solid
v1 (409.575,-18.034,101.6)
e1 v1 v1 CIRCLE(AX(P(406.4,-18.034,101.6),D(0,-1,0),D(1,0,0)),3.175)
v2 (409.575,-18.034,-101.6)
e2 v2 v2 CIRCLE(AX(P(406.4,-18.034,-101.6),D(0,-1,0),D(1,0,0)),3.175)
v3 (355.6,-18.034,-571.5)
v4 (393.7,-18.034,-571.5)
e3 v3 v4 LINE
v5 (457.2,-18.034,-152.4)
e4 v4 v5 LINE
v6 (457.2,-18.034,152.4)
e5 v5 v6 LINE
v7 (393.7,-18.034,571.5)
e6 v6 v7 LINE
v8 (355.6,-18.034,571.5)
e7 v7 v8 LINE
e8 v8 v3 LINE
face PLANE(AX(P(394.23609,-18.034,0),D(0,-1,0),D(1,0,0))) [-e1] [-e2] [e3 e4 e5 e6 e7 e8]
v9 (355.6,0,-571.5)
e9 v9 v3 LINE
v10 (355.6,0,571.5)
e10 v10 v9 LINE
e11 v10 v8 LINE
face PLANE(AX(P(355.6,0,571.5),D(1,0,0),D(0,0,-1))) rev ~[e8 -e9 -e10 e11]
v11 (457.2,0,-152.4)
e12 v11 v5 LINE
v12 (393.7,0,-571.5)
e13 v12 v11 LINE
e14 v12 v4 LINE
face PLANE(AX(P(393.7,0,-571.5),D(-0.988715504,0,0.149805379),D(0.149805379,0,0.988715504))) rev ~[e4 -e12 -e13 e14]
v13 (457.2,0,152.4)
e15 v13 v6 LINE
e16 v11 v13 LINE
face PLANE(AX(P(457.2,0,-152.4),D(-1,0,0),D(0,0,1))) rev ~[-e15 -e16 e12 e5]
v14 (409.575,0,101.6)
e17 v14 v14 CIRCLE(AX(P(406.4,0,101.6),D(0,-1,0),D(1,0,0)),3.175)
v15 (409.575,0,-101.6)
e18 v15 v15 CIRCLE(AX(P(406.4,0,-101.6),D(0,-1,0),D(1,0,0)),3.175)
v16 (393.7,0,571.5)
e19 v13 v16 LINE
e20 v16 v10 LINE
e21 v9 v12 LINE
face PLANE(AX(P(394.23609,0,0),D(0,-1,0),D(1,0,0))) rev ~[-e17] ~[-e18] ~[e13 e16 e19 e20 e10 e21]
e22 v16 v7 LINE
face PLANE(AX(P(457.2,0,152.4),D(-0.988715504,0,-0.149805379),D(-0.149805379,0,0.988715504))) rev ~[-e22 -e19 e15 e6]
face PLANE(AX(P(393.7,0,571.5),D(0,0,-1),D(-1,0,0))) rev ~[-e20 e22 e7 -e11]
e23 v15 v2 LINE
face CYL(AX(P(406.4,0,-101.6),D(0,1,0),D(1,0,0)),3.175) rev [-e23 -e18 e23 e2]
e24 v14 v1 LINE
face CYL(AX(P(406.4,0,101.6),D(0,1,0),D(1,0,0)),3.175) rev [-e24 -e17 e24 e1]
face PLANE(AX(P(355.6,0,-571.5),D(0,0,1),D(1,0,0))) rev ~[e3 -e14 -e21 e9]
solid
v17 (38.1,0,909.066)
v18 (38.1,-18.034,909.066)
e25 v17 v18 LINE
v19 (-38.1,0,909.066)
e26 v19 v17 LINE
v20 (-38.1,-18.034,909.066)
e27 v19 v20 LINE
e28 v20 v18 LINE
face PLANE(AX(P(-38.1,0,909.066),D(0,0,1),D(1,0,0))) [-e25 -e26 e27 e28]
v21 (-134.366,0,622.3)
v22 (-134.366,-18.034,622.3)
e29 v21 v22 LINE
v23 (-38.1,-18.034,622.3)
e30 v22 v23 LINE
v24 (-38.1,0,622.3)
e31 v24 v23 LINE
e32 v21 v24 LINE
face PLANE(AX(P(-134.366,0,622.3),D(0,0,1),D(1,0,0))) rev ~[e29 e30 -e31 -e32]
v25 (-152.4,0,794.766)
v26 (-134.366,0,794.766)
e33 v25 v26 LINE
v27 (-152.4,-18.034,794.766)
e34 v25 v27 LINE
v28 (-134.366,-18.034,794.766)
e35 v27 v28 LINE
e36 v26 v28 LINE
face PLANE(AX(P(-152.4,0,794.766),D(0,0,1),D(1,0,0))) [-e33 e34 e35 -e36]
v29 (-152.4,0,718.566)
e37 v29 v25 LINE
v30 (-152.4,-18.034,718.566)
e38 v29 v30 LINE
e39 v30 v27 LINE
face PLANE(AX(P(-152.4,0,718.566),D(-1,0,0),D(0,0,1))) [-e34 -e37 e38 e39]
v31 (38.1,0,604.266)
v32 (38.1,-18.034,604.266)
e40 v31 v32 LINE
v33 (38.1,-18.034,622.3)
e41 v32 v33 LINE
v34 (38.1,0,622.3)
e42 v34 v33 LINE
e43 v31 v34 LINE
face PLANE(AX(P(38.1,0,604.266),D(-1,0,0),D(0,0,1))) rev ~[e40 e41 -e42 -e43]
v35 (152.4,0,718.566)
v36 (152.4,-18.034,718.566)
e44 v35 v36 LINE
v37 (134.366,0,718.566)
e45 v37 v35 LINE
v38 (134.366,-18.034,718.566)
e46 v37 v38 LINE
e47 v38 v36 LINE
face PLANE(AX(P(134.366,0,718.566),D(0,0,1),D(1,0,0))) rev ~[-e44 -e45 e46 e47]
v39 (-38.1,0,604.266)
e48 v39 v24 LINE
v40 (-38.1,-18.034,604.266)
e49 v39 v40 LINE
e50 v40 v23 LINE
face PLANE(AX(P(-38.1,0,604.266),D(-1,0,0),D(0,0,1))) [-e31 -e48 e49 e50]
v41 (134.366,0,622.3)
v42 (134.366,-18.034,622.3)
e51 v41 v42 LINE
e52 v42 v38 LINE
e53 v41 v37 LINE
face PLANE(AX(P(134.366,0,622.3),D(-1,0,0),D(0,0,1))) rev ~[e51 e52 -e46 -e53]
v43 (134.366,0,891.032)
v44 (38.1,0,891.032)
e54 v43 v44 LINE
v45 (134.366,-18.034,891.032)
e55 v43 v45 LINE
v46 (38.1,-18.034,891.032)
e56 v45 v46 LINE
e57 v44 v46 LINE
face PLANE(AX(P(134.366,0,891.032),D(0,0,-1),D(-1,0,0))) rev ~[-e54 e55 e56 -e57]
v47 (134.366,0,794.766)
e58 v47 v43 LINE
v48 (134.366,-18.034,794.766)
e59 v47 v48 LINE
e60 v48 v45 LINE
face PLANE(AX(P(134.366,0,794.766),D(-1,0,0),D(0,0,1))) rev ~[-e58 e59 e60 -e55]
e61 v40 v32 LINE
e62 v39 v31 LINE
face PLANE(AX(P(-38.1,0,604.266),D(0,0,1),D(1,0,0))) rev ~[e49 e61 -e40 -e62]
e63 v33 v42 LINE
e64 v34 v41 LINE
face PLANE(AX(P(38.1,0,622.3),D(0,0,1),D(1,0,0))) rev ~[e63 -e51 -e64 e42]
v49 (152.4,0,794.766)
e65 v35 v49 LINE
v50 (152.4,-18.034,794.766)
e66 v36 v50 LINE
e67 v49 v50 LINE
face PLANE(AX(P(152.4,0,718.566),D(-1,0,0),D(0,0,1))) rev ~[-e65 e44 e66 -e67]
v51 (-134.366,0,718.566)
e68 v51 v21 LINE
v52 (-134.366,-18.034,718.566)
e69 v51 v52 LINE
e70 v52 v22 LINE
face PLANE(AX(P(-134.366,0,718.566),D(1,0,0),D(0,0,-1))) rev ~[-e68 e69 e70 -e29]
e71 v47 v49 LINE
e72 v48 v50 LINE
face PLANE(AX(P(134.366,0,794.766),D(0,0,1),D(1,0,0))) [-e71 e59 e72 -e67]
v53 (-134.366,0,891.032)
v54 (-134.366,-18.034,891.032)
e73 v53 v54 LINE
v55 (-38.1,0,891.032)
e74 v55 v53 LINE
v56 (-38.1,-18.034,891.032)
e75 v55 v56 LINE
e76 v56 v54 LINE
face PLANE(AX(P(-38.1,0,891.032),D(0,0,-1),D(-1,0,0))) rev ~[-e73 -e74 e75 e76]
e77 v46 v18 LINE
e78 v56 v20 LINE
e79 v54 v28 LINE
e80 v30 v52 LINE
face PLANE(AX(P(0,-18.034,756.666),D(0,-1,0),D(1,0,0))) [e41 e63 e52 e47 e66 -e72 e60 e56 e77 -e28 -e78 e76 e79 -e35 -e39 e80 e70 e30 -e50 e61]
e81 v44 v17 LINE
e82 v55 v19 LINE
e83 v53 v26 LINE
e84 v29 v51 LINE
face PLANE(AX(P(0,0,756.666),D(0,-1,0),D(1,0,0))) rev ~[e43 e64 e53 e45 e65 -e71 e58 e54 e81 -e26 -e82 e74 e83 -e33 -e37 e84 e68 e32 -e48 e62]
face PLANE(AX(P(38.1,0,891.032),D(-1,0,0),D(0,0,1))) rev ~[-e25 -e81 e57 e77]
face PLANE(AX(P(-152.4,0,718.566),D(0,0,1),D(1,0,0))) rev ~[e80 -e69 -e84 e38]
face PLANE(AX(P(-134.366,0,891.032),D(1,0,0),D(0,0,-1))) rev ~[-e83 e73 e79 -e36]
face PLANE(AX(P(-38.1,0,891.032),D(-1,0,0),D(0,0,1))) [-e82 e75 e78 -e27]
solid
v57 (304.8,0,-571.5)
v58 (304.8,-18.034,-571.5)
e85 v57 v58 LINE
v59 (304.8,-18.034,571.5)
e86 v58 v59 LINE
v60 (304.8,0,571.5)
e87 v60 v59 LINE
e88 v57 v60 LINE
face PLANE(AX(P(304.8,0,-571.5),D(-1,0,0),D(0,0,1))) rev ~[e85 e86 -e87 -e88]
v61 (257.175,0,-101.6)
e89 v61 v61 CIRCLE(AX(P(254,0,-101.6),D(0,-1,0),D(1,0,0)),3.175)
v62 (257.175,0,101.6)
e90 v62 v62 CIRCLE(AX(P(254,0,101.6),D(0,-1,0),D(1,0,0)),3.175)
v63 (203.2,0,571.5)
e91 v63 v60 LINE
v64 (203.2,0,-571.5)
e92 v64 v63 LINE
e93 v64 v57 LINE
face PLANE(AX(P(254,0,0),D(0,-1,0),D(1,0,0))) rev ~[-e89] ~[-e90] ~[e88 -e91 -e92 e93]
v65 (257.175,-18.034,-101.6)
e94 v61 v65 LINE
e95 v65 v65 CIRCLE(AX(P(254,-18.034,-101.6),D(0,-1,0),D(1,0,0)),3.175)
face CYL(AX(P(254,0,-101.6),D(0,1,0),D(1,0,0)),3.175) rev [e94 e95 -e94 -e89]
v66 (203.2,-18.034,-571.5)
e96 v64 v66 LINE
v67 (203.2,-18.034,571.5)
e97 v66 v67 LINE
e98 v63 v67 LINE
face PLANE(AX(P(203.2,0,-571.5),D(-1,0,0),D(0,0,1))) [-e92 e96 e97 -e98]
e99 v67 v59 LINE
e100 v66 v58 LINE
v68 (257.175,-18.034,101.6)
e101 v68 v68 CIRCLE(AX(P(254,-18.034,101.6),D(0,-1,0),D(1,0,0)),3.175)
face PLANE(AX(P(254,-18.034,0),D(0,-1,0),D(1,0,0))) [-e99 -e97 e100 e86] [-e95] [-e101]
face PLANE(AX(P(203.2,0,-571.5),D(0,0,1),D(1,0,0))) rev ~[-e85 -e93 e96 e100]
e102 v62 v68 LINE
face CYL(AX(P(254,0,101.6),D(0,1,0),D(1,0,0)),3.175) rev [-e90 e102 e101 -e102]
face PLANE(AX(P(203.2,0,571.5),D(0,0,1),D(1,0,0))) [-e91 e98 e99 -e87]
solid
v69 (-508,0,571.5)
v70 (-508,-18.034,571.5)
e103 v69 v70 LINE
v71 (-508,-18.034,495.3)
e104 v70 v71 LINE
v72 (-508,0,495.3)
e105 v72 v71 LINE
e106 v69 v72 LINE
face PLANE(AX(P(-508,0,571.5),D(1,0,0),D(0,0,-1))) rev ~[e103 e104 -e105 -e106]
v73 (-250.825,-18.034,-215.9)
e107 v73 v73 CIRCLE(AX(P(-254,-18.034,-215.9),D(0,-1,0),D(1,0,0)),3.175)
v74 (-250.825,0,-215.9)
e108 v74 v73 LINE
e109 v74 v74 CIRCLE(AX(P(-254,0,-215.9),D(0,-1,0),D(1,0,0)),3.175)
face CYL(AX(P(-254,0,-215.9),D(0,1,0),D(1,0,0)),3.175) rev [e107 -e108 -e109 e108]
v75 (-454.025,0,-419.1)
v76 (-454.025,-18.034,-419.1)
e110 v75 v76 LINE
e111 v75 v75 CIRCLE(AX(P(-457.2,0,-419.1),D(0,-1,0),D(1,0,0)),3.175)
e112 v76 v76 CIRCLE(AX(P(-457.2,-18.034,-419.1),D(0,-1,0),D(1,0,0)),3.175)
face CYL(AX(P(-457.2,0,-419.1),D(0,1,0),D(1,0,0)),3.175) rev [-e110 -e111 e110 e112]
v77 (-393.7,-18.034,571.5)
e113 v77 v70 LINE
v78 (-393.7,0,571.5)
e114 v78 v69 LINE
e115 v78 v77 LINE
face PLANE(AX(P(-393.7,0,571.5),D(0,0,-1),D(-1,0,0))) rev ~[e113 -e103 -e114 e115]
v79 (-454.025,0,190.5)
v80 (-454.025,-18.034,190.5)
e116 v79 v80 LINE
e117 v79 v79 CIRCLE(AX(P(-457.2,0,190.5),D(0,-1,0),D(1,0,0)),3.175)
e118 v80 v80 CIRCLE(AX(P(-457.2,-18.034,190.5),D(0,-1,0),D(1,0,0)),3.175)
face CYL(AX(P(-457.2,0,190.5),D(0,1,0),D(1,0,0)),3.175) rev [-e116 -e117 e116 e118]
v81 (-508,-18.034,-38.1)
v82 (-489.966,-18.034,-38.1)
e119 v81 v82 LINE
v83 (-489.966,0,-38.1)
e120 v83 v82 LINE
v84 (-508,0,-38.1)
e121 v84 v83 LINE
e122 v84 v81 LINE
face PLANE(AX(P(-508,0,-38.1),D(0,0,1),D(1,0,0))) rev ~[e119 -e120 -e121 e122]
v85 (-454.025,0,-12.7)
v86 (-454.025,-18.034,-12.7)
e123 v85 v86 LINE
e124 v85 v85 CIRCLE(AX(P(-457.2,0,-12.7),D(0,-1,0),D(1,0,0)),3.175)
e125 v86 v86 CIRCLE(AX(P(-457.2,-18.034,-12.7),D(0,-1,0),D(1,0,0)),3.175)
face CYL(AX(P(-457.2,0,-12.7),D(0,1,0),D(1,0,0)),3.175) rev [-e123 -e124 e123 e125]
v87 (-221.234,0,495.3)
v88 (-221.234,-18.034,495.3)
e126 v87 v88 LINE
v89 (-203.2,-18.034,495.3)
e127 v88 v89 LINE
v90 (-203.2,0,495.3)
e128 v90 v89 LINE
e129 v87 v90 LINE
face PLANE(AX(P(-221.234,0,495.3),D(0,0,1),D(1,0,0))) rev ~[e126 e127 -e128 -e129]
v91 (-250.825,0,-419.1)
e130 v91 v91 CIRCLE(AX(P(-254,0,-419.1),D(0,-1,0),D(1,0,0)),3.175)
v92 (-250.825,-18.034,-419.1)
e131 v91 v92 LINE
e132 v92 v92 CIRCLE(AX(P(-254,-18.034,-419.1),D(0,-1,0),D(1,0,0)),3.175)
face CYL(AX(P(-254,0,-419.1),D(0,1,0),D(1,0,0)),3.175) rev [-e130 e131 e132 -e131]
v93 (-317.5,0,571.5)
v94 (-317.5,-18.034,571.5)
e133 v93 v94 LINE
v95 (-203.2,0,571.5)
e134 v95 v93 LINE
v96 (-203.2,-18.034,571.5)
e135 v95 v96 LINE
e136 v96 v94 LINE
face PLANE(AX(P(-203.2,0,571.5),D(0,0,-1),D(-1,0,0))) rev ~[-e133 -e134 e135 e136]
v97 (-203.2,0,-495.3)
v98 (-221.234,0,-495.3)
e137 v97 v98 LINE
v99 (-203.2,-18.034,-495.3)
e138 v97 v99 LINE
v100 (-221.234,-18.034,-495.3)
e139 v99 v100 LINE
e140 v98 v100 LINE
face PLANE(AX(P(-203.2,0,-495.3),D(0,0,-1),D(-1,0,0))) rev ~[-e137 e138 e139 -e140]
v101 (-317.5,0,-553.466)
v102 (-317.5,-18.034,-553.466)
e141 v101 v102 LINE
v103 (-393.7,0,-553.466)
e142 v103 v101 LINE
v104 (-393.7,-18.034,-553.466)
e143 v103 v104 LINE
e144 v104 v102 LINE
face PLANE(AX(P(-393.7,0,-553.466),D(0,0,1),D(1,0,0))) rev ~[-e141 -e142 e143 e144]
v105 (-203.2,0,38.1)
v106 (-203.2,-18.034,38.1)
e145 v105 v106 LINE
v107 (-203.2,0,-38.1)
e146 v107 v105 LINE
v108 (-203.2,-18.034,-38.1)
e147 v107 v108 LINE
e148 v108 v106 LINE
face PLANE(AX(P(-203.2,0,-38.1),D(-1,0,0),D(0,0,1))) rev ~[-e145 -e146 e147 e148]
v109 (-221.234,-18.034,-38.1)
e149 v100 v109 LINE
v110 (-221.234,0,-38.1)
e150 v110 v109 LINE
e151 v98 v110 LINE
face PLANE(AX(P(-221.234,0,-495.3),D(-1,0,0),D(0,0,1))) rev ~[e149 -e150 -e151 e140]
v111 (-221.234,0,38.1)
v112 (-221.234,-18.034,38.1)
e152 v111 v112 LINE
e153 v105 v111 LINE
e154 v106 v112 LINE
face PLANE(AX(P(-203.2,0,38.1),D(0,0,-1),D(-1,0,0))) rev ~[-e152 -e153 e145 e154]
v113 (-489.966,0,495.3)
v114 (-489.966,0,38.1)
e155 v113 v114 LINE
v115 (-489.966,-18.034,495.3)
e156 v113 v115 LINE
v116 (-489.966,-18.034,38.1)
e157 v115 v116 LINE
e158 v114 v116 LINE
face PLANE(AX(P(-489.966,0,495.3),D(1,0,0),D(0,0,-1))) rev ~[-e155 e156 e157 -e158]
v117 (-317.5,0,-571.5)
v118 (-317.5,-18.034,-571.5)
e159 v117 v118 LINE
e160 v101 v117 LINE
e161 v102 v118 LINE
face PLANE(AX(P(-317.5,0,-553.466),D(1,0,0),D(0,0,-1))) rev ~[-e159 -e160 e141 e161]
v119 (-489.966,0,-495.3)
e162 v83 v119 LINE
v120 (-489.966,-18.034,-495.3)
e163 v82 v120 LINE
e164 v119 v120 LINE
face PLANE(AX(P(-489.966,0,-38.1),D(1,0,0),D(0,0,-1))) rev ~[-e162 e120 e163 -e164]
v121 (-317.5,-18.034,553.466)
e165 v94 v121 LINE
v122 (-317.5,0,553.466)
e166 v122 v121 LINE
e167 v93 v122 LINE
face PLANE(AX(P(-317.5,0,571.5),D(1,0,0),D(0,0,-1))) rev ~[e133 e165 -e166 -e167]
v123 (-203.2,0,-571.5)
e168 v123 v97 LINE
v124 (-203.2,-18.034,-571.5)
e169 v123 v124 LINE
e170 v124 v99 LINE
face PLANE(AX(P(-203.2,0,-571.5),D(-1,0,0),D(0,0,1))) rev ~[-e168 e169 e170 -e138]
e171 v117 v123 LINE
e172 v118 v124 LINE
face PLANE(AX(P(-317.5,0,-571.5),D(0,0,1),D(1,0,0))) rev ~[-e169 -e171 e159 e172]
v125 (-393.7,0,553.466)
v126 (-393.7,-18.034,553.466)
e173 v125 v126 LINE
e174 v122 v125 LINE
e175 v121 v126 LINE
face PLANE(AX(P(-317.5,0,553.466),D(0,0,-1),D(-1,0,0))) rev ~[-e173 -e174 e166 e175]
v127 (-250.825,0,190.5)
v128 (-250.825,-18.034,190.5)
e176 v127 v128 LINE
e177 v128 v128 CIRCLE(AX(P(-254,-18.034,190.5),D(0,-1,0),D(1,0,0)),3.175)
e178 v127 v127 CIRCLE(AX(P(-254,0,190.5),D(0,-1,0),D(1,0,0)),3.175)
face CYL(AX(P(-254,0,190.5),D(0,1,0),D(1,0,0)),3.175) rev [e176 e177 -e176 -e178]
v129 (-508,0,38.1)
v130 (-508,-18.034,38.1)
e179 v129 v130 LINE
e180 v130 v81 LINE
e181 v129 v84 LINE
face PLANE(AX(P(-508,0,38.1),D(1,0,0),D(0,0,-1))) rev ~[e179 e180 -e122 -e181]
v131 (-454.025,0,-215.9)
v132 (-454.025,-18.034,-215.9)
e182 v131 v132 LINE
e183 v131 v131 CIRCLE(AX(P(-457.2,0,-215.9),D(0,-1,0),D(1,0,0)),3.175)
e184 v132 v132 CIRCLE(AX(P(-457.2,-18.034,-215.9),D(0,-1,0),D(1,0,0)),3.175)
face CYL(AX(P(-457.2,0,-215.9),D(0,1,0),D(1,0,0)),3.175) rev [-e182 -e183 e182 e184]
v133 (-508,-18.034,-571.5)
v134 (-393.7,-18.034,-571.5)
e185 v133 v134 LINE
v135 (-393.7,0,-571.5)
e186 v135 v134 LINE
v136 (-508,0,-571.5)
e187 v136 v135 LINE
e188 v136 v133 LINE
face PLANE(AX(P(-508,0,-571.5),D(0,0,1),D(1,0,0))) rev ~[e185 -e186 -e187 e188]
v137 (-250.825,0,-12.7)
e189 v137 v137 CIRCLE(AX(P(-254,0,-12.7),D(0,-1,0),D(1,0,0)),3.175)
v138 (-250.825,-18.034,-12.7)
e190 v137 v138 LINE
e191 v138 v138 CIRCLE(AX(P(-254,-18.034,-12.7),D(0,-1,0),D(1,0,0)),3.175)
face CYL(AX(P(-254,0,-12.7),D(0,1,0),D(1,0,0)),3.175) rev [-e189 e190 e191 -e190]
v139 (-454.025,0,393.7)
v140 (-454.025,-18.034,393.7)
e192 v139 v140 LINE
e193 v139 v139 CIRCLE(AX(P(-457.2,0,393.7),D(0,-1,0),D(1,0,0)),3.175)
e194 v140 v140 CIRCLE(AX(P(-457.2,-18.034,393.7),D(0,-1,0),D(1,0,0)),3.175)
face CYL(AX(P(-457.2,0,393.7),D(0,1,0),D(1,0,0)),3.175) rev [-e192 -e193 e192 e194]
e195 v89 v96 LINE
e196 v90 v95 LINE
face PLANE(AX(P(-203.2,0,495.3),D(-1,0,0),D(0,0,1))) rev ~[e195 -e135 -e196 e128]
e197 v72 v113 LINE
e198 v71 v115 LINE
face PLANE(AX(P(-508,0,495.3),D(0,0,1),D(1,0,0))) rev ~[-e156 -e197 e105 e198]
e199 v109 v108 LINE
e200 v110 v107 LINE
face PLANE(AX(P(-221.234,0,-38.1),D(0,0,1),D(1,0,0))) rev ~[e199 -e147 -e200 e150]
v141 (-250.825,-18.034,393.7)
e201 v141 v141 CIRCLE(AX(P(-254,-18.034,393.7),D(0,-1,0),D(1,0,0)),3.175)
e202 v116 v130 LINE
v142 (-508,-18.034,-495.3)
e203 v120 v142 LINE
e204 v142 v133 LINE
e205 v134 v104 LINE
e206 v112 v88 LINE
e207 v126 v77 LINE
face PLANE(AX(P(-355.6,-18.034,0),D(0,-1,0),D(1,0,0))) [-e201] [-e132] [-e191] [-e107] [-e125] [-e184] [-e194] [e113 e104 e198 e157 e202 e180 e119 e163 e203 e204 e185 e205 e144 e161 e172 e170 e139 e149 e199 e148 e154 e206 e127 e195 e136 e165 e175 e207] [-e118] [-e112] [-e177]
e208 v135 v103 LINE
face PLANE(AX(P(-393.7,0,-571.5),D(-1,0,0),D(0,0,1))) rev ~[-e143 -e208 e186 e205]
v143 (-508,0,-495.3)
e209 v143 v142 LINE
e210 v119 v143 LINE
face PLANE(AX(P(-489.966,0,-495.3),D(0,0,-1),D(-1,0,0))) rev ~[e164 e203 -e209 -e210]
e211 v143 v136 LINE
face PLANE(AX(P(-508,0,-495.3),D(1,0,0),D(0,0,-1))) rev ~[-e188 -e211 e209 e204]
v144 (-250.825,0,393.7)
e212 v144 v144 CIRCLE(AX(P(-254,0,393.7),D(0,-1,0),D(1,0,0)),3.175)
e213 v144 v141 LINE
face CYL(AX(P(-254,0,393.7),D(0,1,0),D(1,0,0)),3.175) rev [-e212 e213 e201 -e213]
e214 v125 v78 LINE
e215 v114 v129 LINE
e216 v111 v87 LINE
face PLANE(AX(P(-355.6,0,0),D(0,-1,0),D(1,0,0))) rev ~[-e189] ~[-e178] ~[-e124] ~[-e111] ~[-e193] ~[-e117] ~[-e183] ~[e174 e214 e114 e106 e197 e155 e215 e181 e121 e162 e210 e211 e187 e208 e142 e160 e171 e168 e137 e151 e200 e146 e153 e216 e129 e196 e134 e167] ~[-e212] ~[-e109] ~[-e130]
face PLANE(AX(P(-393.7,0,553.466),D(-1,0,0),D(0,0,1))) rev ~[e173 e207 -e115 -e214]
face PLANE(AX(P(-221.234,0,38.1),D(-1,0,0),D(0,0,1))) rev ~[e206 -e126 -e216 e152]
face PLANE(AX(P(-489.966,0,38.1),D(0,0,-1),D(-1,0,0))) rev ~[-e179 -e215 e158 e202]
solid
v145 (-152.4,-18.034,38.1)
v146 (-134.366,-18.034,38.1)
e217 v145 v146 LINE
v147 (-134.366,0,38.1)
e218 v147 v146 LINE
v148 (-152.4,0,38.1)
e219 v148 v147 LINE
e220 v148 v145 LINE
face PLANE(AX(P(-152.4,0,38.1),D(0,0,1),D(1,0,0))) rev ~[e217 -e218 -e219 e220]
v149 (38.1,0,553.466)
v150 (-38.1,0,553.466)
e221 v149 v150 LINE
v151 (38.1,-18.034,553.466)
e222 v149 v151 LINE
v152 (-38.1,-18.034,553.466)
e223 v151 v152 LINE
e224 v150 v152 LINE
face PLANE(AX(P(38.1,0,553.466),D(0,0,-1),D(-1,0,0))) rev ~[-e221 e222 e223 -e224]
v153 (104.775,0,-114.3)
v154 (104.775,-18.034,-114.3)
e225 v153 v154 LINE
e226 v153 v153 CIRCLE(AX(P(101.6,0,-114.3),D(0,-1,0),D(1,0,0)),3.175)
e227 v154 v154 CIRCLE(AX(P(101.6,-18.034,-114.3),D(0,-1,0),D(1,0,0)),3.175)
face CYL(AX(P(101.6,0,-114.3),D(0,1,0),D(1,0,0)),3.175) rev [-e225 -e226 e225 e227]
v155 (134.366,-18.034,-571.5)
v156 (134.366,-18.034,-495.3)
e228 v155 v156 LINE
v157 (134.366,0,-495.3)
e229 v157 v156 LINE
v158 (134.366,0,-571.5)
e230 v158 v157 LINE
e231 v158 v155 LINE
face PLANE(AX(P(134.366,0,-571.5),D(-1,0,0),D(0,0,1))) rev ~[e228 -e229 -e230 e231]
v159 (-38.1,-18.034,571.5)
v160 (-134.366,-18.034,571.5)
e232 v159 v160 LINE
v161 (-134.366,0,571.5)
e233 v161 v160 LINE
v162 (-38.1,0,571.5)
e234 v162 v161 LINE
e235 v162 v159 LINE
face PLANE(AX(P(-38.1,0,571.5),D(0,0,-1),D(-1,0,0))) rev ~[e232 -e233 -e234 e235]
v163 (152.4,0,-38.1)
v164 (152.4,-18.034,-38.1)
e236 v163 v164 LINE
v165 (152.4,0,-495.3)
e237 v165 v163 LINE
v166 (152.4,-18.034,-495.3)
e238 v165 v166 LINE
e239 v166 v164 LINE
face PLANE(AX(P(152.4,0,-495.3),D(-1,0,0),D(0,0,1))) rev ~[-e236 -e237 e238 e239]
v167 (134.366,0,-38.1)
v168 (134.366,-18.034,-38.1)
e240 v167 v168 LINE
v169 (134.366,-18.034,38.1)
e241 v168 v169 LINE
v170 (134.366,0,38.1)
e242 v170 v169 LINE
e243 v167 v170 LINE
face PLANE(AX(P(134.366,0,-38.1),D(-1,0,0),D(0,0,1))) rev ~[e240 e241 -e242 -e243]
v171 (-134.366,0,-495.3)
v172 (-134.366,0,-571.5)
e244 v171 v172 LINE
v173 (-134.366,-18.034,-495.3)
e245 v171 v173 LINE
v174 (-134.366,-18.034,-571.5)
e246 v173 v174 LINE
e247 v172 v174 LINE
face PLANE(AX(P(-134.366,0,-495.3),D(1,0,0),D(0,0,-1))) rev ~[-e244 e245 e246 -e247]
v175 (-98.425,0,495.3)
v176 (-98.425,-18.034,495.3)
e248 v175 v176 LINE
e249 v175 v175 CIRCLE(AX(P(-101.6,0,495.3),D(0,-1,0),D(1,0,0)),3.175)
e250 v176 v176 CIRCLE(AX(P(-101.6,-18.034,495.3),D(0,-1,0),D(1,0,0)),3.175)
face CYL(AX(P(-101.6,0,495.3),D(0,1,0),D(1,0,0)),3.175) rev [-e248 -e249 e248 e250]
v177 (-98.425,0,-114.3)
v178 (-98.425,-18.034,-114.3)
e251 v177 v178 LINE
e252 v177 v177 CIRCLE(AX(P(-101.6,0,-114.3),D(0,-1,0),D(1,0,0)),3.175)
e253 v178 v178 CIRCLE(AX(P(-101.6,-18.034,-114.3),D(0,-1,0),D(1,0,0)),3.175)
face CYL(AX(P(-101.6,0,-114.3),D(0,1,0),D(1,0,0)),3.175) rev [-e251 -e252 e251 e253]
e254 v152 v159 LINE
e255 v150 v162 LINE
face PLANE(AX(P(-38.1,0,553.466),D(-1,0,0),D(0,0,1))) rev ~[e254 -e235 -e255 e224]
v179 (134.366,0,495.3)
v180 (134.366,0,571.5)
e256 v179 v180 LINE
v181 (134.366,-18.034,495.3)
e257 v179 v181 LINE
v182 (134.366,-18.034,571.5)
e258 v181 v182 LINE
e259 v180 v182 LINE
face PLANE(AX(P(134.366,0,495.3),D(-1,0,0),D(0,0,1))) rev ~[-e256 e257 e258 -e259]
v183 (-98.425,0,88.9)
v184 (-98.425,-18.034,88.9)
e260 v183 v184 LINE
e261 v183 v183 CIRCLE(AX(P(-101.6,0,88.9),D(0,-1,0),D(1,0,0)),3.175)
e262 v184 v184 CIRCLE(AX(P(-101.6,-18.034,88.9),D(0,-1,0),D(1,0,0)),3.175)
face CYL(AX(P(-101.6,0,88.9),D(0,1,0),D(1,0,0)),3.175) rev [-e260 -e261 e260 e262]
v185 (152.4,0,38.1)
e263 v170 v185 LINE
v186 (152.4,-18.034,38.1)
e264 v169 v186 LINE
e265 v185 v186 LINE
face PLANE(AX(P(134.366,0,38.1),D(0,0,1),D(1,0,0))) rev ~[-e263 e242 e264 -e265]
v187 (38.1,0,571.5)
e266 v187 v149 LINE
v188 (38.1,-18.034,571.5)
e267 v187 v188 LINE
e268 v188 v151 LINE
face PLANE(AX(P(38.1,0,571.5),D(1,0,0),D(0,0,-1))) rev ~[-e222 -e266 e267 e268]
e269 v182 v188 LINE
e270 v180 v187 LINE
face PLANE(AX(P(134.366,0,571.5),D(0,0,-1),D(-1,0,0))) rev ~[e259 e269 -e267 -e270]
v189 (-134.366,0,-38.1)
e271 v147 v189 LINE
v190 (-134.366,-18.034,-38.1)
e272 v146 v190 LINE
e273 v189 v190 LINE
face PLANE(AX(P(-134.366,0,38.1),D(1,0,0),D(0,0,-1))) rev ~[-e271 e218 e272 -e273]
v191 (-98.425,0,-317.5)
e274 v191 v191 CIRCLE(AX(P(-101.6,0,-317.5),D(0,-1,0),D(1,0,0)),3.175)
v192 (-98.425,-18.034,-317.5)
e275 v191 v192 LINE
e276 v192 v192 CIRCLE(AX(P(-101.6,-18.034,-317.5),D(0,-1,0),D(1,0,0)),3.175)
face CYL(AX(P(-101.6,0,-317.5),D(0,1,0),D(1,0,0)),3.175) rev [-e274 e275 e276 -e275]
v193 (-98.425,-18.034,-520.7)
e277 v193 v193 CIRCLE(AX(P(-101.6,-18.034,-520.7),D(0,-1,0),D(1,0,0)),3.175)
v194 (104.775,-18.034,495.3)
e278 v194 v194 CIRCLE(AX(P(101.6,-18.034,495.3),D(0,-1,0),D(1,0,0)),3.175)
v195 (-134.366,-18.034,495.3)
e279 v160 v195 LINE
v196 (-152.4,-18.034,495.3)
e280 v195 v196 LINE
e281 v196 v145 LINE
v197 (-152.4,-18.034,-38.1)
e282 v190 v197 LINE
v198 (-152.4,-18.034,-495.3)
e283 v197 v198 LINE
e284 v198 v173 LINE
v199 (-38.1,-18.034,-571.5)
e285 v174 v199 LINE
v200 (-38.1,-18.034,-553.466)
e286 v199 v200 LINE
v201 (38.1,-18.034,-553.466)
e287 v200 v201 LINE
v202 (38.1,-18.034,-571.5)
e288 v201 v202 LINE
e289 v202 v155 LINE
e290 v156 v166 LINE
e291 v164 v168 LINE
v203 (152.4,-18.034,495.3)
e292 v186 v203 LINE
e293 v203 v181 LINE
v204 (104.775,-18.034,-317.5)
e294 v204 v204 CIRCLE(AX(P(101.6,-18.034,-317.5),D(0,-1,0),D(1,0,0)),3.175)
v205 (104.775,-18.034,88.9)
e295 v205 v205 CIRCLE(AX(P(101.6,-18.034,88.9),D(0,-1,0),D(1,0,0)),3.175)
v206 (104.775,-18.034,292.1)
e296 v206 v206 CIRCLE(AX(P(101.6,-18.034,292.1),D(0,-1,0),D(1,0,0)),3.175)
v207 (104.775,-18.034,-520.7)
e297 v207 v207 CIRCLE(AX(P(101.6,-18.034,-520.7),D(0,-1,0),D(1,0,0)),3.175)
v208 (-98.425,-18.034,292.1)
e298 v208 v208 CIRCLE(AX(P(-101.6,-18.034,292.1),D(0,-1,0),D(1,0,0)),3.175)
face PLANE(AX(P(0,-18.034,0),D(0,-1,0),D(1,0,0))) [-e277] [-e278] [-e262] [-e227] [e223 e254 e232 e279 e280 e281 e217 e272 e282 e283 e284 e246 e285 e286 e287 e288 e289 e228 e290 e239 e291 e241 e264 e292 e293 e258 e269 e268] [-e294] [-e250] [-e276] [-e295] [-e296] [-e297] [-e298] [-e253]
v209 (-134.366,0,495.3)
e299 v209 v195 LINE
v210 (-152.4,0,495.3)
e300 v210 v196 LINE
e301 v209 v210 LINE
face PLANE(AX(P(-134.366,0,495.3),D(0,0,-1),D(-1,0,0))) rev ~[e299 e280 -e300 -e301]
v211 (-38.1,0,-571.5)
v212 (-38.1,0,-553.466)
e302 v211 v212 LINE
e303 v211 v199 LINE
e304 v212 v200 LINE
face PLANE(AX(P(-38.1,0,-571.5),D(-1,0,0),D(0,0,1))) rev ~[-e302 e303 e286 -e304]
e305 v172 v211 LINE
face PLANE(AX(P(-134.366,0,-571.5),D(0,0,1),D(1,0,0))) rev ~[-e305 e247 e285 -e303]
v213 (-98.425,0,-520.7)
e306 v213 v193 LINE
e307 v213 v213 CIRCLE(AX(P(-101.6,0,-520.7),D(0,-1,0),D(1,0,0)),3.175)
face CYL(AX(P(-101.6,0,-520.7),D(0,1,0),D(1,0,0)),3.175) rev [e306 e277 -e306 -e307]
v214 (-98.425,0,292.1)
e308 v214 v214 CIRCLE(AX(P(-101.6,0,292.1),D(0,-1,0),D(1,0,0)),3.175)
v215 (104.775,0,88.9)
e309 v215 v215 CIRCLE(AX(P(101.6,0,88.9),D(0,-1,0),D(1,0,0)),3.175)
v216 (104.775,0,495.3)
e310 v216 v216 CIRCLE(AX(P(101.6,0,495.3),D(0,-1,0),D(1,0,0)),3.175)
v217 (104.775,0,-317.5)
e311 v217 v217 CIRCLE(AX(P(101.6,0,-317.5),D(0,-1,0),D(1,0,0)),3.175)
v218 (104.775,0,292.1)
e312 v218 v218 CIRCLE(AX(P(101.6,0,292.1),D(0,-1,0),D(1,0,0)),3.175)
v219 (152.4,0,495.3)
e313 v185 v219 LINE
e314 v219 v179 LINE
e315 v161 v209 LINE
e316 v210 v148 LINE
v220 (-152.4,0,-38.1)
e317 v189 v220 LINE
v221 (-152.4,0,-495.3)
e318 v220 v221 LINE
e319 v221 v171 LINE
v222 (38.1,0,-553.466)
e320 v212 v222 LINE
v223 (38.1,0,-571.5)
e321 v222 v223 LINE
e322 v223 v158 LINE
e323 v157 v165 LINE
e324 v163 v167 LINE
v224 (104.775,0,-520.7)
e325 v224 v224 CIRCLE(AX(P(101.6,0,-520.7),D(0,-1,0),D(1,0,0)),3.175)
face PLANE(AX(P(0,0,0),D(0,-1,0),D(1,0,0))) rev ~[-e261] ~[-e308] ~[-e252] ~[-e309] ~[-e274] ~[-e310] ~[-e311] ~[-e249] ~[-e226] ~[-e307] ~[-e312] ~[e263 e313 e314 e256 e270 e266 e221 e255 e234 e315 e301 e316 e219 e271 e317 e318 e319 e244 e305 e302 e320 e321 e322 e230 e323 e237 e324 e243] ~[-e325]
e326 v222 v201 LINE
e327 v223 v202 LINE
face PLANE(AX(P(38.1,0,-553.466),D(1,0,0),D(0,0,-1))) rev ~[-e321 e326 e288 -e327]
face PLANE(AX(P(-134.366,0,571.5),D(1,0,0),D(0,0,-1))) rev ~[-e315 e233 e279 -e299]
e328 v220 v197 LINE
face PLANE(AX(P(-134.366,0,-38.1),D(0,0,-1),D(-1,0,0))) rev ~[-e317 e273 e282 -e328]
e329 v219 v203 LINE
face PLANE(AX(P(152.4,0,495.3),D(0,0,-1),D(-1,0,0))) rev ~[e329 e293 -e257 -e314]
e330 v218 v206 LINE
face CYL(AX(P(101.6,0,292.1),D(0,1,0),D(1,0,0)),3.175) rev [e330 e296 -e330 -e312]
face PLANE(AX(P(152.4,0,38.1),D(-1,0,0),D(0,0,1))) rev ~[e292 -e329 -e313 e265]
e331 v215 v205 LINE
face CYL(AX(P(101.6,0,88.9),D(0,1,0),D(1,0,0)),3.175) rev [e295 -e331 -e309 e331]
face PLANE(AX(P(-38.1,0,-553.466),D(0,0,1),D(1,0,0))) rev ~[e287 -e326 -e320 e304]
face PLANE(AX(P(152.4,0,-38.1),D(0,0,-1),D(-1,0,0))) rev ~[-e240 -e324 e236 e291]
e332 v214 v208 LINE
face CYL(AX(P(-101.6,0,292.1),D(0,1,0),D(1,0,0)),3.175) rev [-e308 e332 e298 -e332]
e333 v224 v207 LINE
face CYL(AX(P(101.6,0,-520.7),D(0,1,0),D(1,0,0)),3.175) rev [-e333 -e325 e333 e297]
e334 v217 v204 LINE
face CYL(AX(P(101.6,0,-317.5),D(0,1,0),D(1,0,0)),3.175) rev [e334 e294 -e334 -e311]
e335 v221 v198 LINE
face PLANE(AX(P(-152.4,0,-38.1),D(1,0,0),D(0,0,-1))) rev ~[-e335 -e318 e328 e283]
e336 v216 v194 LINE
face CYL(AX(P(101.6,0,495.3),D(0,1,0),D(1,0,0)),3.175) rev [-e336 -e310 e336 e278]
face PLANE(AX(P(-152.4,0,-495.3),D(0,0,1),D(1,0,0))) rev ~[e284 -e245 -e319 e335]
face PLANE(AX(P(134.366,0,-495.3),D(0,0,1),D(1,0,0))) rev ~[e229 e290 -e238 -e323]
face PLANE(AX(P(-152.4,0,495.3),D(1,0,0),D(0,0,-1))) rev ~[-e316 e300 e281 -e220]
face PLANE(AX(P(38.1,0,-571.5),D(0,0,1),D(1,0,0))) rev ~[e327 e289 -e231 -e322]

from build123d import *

# Parameters (mm, degrees)
F0_R     = 3.175
F0_W     = 101.6
F0_H     = 1143
F0_W_2   = 76.2
F0_H_2   = 18.034
F0_W_3   = 18.034
F0_H_3   = 76.2
F1_DEPTH = 18.034


with BuildPart() as f1:
    # F0 (on Front) → F1 (new body)
    with BuildSketch(Plane.XZ):
        Polygon((-203.2, 495.3), (-203.2, 571.5), (-317.5, 571.5), (-317.5, 553.466), (-393.7, 553.466), (-393.7, 571.5), (-508, 571.5), (-508, 495.3), (-489.966, 495.3), (-489.966, 38.1), (-508, 38.1), (-508, -38.1), (-489.966, -38.1), (-489.966, -495.3), (-508, -495.3), (-508, -571.5), (-393.7, -571.5), (-393.7, -553.466), (-317.5, -553.466), (-317.5, -571.5), (-203.2, -571.5), (-203.2, -495.3), (-221.234, -495.3), (-221.234, -38.1), (-203.2, -38.1), (-203.2, 38.1), (-221.234, 38.1), (-221.234, 495.3), align=None)
        with Locations((-457.2, -419.1)):
            Circle(F0_R, mode=Mode.SUBTRACT)
        with Locations((-457.2, -215.9)):
            Circle(F0_R, mode=Mode.SUBTRACT)
        with Locations((-254, -419.1)):
            Circle(F0_R, mode=Mode.SUBTRACT)
        with Locations((-254, -215.9)):
            Circle(F0_R, mode=Mode.SUBTRACT)
        with Locations((-457.2, -12.7)):
            Circle(F0_R, mode=Mode.SUBTRACT)
        with Locations((-254, -12.7)):
            Circle(F0_R, mode=Mode.SUBTRACT)
        with Locations((-457.2, 190.5)):
            Circle(F0_R, mode=Mode.SUBTRACT)
        with Locations((-457.2, 393.7)):
            Circle(F0_R, mode=Mode.SUBTRACT)
        with Locations((-254, 190.5)):
            Circle(F0_R, mode=Mode.SUBTRACT)
        with Locations((-254, 393.7)):
            Circle(F0_R, mode=Mode.SUBTRACT)
        Polygon((-38.1, 571.5), (-134.366, 571.5), (-134.366, 495.3), (-152.4, 495.3), (-152.4, 38.1), (-134.366, 38.1), (-134.366, 0), (-134.366, -38.1), (-152.4, -38.1), (-152.4, -495.3), (-134.366, -495.3), (-134.366, -571.5), (-38.1, -571.5), (-38.1, -553.466), (38.1, -553.466), (38.1, -571.5), (134.366, -571.5), (134.366, -495.3), (152.4, -495.3), (152.4, -38.1), (134.366, -38.1), (134.366, 0), (134.366, 38.1), (152.4, 38.1), (152.4, 495.3), (134.366, 495.3), (134.366, 571.5), (38.1, 571.5), (38.1, 553.466), (-38.1, 553.466), align=None)
        with Locations((-101.6, -520.7)):
            Circle(F0_R, mode=Mode.SUBTRACT)
        with Locations((-101.6, -317.5)):
            Circle(F0_R, mode=Mode.SUBTRACT)
        with Locations((-101.6, -114.3)):
            Circle(F0_R, mode=Mode.SUBTRACT)
        with Locations((-101.6, 88.9)):
            Circle(F0_R, mode=Mode.SUBTRACT)
        with Locations((101.6, -520.7)):
            Circle(F0_R, mode=Mode.SUBTRACT)
        with Locations((101.6, -317.5)):
            Circle(F0_R, mode=Mode.SUBTRACT)
        with Locations((101.6, -114.3)):
            Circle(F0_R, mode=Mode.SUBTRACT)
        with Locations((101.6, 88.9)):
            Circle(F0_R, mode=Mode.SUBTRACT)
        with Locations((-101.6, 292.1)):
            Circle(F0_R, mode=Mode.SUBTRACT)
        with Locations((-101.6, 495.3)):
            Circle(F0_R, mode=Mode.SUBTRACT)
        with Locations((101.6, 292.1)):
            Circle(F0_R, mode=Mode.SUBTRACT)
        with Locations((101.6, 495.3)):
            Circle(F0_R, mode=Mode.SUBTRACT)
        with Locations((254, 0)):
            Rectangle(F0_W, F0_H)
        with Locations((254, -101.6)):
            Circle(F0_R, mode=Mode.SUBTRACT)
        with Locations((254, 101.6)):
            Circle(F0_R, mode=Mode.SUBTRACT)
        Polygon((393.7, 571.5), (355.6, 571.5), (355.6, -571.5), (393.7, -571.5), (457.2, -152.4), (457.2, 152.4), align=None)
        with Locations((406.4, -101.6)):
            Circle(F0_R, mode=Mode.SUBTRACT)
        with Locations((406.4, 101.6)):
            Circle(F0_R, mode=Mode.SUBTRACT)
        Polygon((-134.366, 718.566), (-134.366, 622.3), (-38.1, 622.3), (38.1, 622.3), (134.366, 622.3), (134.366, 718.566), (134.366, 794.766), (134.366, 891.032), (38.1, 891.032), (-38.1, 891.032), (-134.366, 891.032), (-134.366, 794.766), align=None)
        with Locations((0, 900.049)):
            Rectangle(F0_W_2, F0_H_2)
        with Locations((-143.383, 756.666)):
            Rectangle(F0_W_3, F0_H_3)
        with Locations((0, 613.283)):
            Rectangle(F0_W_2, F0_H_2)
        with Locations((143.383, 756.666)):
            Rectangle(F0_W_3, F0_H_3)
    extrude(amount=F1_DEPTH)


solid = f1.part
